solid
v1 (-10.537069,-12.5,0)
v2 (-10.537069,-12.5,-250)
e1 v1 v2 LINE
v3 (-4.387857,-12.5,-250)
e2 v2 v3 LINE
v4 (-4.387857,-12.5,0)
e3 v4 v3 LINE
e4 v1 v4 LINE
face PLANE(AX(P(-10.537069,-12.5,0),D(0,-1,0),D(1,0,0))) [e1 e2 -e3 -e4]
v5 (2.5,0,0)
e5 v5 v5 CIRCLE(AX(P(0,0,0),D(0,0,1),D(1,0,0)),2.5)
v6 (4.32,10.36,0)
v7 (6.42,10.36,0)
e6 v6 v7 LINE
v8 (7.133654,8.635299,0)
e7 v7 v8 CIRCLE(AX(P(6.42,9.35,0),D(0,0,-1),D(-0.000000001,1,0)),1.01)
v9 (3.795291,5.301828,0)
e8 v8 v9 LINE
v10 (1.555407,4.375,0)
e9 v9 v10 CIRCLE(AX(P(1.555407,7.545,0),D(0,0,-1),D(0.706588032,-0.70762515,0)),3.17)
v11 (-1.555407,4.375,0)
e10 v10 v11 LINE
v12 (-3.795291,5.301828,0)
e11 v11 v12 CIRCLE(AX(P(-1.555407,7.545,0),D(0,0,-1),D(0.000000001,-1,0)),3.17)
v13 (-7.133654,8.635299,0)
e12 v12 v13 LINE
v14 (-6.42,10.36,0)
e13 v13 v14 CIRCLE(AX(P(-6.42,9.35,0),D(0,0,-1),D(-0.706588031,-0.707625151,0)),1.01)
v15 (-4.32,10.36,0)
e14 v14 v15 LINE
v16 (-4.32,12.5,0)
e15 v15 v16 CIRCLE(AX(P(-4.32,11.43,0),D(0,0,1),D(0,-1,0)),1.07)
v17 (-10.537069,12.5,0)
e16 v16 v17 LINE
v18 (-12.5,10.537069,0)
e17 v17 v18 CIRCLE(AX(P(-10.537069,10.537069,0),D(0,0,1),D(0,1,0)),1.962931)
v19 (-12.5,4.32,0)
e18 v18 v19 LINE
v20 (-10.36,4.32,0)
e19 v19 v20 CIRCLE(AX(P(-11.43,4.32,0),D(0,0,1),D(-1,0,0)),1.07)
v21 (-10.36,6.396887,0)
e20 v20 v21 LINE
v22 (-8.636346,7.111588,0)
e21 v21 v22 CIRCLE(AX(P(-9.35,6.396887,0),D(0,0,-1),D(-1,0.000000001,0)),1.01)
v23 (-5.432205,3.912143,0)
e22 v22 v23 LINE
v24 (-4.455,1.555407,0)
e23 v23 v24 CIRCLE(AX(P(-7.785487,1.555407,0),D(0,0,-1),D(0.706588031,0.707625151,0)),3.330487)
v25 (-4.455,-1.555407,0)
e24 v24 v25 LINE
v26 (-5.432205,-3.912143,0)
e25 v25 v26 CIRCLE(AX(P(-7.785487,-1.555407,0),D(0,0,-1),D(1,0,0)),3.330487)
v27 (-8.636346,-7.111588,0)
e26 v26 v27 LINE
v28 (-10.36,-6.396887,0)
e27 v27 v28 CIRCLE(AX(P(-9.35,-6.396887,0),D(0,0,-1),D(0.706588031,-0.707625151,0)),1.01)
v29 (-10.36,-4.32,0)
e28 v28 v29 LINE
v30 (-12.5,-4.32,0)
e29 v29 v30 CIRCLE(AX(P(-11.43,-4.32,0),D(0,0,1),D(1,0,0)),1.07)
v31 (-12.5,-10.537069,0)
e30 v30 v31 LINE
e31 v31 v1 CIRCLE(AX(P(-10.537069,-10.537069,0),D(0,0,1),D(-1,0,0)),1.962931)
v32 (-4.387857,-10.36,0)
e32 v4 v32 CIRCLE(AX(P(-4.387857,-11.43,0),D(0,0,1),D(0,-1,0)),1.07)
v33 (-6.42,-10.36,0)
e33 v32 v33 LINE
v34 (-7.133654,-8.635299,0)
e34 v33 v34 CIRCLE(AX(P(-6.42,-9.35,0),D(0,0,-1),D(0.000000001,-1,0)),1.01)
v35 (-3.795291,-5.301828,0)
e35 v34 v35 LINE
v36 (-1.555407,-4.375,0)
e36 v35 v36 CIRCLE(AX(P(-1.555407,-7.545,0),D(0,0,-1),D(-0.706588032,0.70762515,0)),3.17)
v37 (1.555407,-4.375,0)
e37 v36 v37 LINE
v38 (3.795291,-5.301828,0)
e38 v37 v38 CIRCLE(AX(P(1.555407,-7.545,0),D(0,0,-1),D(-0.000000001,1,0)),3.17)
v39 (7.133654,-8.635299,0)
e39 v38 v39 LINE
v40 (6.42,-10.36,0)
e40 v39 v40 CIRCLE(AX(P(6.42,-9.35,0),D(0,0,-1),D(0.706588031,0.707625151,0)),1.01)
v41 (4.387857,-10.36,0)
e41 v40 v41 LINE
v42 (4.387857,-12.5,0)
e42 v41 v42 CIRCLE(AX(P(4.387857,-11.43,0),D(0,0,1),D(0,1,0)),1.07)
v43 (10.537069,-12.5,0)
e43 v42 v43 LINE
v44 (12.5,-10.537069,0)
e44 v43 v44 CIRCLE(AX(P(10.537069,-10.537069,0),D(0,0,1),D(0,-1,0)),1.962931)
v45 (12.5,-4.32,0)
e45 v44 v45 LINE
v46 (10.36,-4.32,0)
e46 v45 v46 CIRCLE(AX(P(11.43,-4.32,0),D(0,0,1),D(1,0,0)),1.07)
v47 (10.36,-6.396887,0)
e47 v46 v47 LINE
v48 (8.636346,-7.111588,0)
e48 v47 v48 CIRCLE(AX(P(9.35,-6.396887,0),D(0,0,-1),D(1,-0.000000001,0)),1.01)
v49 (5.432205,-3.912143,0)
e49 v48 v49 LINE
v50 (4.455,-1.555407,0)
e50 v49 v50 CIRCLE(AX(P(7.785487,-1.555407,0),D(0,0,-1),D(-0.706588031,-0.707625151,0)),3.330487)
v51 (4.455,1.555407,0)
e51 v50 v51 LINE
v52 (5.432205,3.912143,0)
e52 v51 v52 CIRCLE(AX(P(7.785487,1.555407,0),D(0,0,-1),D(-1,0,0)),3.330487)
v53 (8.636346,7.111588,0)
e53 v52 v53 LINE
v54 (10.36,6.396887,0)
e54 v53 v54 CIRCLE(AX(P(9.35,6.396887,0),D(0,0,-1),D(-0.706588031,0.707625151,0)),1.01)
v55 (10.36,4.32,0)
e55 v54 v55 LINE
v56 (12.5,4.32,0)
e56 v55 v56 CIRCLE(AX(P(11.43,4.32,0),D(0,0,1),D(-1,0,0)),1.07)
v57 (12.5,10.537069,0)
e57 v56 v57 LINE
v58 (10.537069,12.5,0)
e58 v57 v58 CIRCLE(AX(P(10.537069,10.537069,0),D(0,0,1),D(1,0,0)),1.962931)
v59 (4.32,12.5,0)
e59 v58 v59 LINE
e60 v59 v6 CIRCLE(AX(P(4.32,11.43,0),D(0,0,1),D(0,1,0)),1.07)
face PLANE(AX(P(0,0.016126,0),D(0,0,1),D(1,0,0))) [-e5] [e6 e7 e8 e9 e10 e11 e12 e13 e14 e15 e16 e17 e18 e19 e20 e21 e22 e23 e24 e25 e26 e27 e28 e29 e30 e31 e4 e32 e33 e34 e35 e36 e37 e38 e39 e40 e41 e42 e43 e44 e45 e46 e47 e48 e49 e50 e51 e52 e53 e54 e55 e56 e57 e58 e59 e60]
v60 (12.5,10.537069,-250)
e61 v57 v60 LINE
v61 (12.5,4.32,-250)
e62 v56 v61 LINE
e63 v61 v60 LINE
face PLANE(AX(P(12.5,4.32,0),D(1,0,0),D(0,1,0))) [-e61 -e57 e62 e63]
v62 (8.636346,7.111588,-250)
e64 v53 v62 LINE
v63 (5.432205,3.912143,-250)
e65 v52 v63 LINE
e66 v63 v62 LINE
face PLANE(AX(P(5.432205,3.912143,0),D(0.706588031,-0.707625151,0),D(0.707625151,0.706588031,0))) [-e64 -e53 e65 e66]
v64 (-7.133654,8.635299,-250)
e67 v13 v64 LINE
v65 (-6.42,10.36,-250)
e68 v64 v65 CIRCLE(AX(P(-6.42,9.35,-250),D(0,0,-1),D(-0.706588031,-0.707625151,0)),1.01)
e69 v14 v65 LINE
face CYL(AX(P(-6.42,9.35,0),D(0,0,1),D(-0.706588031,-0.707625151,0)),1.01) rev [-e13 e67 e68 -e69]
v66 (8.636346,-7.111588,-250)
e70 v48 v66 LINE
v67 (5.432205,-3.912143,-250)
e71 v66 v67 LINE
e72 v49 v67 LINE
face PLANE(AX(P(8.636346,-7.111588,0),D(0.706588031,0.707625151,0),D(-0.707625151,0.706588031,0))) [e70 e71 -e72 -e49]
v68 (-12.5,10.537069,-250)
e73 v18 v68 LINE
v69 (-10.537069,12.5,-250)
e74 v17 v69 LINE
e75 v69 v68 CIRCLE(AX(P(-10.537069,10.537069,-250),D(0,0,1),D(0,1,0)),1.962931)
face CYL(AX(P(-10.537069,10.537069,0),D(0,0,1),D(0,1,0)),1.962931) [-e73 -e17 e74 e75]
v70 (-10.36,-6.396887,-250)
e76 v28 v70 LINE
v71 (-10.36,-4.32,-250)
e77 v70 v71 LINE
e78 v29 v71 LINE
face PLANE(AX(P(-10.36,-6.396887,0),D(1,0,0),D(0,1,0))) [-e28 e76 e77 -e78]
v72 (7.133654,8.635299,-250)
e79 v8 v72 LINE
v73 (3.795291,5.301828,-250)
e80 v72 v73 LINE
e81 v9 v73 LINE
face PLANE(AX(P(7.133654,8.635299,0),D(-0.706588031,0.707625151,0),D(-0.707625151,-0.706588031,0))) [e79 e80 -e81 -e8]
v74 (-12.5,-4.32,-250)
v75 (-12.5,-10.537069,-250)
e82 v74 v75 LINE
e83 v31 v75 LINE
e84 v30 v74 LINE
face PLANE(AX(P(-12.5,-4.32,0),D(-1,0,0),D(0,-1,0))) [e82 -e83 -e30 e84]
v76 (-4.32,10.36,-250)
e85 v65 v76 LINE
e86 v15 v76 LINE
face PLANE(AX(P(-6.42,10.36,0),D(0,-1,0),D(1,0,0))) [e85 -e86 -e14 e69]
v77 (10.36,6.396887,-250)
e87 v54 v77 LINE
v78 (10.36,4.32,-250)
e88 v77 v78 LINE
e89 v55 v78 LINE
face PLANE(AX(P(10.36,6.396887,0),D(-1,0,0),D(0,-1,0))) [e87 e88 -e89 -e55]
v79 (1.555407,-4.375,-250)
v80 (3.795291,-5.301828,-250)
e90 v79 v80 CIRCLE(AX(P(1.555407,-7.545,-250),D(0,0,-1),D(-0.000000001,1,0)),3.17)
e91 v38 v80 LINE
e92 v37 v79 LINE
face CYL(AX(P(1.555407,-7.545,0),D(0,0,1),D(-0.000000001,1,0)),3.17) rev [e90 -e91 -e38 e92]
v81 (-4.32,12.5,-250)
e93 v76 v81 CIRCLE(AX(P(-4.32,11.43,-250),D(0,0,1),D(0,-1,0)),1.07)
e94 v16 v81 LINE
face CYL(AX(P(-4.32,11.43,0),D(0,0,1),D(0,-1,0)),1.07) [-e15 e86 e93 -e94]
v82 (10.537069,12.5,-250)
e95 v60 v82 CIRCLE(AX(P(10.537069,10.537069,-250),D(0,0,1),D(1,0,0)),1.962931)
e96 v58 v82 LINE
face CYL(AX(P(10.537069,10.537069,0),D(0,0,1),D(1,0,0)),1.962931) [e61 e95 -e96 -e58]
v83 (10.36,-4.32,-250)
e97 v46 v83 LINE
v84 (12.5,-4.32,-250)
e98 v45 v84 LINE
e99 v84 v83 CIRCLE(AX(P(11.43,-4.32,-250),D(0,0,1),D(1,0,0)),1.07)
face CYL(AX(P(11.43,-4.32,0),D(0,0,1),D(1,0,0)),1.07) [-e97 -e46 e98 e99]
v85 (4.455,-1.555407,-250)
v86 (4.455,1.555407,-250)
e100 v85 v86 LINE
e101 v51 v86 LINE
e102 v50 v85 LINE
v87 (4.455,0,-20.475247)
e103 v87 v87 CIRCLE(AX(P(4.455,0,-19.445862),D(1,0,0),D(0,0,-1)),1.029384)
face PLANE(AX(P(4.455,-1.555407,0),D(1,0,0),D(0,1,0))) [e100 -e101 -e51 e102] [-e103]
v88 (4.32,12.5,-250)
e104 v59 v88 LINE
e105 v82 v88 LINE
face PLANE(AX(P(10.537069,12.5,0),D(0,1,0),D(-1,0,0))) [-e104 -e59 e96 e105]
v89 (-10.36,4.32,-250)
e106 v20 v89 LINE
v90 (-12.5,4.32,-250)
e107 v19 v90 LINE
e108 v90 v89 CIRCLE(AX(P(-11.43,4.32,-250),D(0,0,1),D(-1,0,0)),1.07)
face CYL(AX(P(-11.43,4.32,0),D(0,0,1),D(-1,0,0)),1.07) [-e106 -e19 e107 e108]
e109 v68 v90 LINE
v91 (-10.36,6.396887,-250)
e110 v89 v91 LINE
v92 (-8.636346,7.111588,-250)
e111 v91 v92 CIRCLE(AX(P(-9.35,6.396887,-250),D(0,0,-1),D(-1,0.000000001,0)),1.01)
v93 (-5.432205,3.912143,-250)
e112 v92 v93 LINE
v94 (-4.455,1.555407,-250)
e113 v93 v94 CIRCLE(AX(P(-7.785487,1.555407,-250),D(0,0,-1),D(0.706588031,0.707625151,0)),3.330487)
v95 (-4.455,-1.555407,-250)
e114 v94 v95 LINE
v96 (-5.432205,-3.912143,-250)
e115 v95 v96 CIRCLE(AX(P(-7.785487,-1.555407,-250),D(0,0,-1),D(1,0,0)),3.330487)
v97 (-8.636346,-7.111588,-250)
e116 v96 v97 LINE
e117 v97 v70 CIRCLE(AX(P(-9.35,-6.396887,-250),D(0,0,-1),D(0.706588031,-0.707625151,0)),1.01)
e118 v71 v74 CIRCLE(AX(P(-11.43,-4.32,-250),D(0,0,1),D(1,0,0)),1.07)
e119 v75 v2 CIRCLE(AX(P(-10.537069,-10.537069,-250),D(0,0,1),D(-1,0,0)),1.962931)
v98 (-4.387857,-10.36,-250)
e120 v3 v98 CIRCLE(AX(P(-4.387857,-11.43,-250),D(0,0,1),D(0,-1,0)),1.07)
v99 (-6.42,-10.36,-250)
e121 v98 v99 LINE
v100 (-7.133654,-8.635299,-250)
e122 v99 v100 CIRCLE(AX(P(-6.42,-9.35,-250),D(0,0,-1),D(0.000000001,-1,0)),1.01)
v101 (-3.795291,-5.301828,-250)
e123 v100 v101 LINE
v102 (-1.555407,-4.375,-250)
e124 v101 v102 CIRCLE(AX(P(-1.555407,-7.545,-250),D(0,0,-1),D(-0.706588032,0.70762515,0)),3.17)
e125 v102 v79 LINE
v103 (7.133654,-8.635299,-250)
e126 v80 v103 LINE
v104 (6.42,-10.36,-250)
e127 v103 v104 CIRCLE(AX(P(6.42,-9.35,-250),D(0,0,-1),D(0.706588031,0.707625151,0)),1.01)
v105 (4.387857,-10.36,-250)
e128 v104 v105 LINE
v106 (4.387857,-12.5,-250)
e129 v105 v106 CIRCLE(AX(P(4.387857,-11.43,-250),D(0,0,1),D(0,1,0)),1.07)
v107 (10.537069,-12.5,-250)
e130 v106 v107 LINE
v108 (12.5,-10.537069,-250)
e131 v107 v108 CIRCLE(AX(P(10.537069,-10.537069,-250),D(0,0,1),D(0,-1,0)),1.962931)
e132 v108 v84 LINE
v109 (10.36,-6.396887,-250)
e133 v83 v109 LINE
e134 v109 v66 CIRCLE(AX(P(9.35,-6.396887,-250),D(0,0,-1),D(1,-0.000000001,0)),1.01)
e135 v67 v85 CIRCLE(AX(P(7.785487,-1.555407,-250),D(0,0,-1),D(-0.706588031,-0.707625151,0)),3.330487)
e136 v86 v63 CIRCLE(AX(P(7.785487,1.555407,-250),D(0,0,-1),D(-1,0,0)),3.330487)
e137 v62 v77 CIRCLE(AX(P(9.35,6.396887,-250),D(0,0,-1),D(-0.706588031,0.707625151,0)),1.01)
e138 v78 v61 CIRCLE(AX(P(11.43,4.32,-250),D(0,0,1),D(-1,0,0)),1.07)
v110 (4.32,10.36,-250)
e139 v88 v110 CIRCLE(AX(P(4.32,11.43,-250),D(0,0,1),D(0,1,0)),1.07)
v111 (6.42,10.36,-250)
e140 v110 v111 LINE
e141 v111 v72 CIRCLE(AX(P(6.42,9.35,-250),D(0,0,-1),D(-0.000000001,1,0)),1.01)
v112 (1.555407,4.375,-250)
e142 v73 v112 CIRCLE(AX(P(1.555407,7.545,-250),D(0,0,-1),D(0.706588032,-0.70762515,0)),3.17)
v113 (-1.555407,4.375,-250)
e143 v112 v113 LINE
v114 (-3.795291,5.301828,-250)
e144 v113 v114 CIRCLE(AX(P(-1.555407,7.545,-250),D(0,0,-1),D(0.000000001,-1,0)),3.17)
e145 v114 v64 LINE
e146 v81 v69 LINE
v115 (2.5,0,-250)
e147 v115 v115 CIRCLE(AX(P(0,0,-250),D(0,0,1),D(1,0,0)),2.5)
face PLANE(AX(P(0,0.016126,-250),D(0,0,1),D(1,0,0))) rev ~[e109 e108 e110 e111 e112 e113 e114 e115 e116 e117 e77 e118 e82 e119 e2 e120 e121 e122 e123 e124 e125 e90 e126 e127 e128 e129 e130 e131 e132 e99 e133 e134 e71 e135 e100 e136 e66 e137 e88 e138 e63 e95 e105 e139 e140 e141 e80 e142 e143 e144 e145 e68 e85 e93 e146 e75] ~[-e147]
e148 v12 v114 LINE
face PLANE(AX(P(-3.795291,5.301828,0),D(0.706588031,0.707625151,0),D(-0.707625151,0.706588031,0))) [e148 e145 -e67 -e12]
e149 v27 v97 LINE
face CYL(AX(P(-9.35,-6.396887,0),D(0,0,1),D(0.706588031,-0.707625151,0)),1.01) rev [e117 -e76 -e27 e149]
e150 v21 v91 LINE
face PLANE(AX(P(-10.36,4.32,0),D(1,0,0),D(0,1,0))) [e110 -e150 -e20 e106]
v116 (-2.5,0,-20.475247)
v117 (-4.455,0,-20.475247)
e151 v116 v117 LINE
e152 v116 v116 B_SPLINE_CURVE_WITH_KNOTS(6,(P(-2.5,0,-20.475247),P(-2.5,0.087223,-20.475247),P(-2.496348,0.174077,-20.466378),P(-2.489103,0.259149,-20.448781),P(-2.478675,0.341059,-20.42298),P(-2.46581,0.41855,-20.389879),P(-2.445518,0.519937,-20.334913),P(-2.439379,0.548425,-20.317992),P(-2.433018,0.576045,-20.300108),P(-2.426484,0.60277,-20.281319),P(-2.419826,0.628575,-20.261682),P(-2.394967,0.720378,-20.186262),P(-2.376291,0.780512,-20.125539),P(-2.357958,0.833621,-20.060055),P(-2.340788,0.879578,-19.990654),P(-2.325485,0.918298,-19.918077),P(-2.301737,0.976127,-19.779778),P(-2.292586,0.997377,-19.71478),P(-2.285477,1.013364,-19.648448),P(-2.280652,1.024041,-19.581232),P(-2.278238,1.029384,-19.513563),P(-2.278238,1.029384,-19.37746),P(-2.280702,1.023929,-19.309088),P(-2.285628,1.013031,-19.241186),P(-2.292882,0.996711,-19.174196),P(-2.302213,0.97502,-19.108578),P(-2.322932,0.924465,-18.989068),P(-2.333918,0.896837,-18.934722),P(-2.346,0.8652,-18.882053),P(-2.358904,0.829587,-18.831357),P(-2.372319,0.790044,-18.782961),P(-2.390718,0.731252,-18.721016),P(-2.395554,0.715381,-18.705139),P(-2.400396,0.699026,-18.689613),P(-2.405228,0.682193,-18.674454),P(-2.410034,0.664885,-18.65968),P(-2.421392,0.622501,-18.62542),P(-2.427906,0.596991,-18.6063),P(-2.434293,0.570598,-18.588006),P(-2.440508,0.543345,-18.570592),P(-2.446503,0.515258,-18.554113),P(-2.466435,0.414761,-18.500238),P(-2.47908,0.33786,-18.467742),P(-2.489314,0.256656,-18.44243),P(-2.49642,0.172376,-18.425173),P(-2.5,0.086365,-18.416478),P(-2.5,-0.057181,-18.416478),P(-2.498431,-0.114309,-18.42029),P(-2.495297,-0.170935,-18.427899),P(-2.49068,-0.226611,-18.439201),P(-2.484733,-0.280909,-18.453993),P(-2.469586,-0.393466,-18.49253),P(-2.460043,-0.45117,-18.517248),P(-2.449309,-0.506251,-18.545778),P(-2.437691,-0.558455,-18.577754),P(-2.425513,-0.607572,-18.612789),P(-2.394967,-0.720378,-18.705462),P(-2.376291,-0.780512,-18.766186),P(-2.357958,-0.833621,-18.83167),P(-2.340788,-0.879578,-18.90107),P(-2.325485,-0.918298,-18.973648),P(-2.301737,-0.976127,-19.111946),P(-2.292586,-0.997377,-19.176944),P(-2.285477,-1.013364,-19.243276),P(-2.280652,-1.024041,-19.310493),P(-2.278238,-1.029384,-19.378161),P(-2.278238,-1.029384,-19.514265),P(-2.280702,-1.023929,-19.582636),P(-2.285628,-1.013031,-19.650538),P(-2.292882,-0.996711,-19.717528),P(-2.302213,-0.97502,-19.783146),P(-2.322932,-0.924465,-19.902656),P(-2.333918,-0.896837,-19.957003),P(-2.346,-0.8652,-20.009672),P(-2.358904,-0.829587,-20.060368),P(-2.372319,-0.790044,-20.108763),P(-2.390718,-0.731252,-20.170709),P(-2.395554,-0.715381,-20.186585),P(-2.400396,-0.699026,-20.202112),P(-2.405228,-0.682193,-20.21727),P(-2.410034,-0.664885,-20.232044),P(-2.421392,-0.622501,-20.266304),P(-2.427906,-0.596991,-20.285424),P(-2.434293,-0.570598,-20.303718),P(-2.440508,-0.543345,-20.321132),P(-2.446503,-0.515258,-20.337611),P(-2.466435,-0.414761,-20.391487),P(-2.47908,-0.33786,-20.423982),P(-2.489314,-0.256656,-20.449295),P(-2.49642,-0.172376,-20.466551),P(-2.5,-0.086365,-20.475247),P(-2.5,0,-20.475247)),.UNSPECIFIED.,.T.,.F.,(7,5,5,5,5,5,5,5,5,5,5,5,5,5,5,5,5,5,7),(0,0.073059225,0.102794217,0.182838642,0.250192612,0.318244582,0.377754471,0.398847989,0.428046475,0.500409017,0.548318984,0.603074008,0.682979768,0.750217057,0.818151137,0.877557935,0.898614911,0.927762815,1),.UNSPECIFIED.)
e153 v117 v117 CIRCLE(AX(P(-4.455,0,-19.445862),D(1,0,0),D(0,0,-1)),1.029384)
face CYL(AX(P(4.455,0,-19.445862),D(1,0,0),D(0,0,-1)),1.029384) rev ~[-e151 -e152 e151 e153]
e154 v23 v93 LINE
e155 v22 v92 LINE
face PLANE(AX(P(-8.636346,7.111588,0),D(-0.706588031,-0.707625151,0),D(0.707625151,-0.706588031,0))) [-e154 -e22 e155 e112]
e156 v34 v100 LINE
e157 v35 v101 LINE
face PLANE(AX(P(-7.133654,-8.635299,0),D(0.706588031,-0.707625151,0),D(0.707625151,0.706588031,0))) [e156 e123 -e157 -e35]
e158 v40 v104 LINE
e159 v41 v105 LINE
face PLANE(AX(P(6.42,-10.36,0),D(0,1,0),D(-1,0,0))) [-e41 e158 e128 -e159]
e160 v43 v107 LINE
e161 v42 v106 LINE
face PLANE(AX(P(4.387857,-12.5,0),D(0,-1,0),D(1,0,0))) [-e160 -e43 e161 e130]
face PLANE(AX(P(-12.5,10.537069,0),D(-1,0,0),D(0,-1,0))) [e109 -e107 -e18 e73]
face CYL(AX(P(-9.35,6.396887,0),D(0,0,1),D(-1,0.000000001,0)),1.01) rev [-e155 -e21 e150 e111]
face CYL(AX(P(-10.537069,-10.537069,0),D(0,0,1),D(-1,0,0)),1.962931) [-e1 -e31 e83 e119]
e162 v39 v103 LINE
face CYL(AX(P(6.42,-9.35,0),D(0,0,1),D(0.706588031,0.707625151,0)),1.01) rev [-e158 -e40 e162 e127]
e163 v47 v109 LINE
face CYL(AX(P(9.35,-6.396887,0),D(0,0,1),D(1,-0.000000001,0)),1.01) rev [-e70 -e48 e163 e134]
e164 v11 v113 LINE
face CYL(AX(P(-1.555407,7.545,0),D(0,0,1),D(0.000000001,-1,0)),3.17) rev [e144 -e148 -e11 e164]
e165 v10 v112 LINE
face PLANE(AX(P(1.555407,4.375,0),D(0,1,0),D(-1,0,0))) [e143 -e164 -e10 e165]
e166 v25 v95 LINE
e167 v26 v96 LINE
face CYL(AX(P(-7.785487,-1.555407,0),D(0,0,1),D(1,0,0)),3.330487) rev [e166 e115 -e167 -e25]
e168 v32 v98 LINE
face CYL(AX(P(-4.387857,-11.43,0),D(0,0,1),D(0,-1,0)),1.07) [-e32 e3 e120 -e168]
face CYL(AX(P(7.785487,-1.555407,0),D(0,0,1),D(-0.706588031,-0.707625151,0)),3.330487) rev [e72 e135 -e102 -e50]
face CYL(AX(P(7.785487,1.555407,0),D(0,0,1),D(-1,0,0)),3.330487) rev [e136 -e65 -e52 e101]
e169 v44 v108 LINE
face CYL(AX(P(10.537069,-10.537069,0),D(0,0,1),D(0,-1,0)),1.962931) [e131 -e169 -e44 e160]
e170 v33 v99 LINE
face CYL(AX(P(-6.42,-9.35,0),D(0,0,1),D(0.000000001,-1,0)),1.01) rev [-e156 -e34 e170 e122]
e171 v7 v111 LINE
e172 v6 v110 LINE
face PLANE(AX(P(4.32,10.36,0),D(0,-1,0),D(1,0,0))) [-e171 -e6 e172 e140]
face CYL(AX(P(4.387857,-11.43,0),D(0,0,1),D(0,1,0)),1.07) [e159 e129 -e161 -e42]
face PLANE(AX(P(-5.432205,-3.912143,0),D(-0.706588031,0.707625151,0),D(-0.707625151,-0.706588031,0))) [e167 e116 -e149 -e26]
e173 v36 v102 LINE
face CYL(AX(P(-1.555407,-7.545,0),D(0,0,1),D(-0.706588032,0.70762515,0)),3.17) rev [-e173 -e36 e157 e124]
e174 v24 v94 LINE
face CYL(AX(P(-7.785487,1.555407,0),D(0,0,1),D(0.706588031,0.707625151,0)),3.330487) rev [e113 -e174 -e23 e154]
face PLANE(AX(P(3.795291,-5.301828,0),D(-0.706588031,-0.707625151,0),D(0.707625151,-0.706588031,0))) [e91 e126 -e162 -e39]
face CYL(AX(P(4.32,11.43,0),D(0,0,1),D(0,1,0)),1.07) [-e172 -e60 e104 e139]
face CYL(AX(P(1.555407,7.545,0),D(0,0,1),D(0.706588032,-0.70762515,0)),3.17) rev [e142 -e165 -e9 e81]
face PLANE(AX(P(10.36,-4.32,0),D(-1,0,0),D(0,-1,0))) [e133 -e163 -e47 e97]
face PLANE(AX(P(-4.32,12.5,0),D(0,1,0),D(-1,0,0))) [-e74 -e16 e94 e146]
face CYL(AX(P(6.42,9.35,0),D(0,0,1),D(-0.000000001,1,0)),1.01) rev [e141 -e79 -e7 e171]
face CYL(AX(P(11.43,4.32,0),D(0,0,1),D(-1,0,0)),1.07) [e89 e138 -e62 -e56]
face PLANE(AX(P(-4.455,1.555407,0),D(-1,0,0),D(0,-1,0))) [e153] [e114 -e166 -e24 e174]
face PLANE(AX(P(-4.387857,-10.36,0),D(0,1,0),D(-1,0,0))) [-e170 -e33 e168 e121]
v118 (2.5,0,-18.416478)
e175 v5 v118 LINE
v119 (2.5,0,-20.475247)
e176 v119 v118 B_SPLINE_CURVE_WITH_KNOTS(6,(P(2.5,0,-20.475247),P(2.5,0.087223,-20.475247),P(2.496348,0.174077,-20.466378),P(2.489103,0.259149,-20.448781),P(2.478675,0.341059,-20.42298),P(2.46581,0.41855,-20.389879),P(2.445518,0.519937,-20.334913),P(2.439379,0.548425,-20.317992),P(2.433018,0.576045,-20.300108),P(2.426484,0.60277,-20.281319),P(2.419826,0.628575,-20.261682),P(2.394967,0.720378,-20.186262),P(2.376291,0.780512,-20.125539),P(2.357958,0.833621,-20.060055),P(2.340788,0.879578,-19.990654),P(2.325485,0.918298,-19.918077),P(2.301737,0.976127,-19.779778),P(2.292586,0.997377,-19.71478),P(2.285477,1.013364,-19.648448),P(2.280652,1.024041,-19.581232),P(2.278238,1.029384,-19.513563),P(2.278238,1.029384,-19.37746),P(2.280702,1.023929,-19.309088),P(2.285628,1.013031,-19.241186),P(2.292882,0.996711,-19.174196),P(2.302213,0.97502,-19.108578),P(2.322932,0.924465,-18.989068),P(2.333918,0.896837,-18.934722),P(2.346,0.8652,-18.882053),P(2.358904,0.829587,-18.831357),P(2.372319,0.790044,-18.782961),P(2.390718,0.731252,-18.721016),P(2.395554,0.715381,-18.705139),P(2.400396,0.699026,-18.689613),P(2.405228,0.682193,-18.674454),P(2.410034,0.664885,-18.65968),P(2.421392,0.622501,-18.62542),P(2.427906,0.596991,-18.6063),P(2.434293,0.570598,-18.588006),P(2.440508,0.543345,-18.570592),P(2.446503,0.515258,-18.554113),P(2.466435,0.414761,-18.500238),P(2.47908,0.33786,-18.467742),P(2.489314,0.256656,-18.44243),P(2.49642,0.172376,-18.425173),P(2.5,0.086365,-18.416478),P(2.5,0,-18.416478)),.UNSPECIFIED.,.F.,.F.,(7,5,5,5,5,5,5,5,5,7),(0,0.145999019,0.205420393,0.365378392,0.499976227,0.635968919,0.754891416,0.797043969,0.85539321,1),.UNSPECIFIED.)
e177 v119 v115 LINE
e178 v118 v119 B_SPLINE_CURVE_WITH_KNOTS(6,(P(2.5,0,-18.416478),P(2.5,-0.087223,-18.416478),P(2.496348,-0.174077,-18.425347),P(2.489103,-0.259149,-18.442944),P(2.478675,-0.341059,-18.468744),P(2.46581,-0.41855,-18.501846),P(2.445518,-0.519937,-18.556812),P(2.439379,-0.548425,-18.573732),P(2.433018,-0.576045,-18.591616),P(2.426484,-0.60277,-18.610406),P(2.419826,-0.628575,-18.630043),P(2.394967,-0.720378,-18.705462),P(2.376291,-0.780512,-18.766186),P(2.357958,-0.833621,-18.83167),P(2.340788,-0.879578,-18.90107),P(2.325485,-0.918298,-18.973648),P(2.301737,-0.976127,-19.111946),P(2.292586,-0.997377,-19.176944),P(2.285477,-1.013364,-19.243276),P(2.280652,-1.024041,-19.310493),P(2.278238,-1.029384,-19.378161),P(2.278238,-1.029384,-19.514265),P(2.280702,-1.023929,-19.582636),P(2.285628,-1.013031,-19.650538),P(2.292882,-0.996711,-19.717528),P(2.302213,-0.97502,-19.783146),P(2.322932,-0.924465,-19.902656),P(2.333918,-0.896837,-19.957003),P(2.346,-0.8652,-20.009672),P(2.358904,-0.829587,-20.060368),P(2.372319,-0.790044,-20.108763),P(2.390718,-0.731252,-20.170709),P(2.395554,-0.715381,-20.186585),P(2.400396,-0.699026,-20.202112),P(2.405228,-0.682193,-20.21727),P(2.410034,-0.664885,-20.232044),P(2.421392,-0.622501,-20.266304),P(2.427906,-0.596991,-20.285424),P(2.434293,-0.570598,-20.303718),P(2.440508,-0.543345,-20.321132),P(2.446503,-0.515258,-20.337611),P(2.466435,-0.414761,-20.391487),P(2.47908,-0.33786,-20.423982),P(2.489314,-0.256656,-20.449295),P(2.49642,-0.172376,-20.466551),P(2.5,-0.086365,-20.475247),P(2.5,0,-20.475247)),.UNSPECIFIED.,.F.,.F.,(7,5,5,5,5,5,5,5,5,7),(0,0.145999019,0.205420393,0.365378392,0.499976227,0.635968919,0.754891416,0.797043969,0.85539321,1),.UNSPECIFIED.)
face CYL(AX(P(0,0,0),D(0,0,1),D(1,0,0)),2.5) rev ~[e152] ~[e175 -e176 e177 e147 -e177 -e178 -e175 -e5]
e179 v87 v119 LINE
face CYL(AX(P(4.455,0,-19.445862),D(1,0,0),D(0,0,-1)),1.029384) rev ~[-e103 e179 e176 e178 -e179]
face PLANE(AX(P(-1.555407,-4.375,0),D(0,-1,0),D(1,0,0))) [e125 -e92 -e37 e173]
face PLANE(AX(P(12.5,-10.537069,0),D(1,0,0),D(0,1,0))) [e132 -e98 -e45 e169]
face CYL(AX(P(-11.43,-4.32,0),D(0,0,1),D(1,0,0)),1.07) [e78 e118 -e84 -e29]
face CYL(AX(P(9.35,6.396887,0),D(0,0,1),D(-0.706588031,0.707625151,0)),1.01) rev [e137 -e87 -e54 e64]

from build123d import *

# Parameters (mm, degrees)
SKETCH1_R          = 2.5
EXTRUDE1_DEPTH     = 250
SKETCH3_R          = 1.029384239
CUT_EXTRUDE1_DEPTH = 251.885874503


with BuildPart() as part:
    # Sketch1 → Extrude1 (new body)
    with BuildSketch(Plane.XY):
        with BuildLine():
            Line((-8.636346088, 7.111588351), (-5.432204773, 3.912143135))
            ThreePointArc((-5.432204773, 3.912143135), (-4.708985779, 2.831057106), (-4.455, 1.555406707))
            Line((-4.455, 1.555406707), (-4.455, -1.555406707))
            ThreePointArc((-4.455, -1.555406707), (-4.708985779, -2.831057106), (-5.432204773, -3.912143135))
            Line((-5.432204773, -3.912143135), (-8.636346088, -7.111588351))
            ThreePointArc((-8.636346088, -7.111588351), (-9.736852394, -7.329863489), (-10.36, -6.396886949))
            Line((-10.36, -6.396886949), (-10.36, -4.32))
            ThreePointArc((-10.36, -4.32), (-11.43, -3.25), (-12.5, -4.32))
            Line((-12.5, -4.32), (-12.5, -8.651801989))
            Line((-12.5, -8.651801989), (-12.5, -10.537068835))
            ThreePointArc((-12.5, -10.537068835), (-11.925070773, -11.925070773), (-10.537068835, -12.5))
            Line((-10.537068835, -12.5), (-8.441567612, -12.5))
            Line((-8.441567612, -12.5), (-4.387856959, -12.5))
            ThreePointArc((-4.387856959, -12.5), (-3.317856959, -11.43), (-4.387856959, -10.36))
            Line((-4.387856959, -10.36), (-6.42, -10.36))
            ThreePointArc((-6.42, -10.36), (-7.35325999, -9.736168088), (-7.133653912, -8.635298598))
            Line((-7.133653912, -8.635298598), (-3.795290766, -5.301828272))
            ThreePointArc((-3.795290766, -5.301828272), (-2.76743922, -4.61585726), (-1.555406707, -4.375))
            Line((-1.555406707, -4.375), (1.555406707, -4.375))
            ThreePointArc((1.555406707, -4.375), (2.76743922, -4.61585726), (3.795290766, -5.301828272))
            Line((3.795290766, -5.301828272), (7.133653912, -8.635298598))
            ThreePointArc((7.133653912, -8.635298598), (7.35325999, -9.736168088), (6.42, -10.36))
            Line((6.42, -10.36), (4.387856959, -10.36))
            ThreePointArc((4.387856959, -10.36), (3.317856959, -11.43), (4.387856959, -12.5))
            Line((4.387856959, -12.5), (8.441567612, -12.5))
            Line((8.441567612, -12.5), (10.537068835, -12.5))
            ThreePointArc((10.537068835, -12.5), (11.925070773, -11.925070773), (12.5, -10.537068835))
            Line((12.5, -10.537068835), (12.5, -8.651801989))
            Line((12.5, -8.651801989), (12.5, -4.32))
            ThreePointArc((12.5, -4.32), (11.43, -3.25), (10.36, -4.32))
            Line((10.36, -4.32), (10.36, -6.396886949))
            ThreePointArc((10.36, -6.396886949), (9.736852394, -7.329863489), (8.636346088, -7.111588351))
            Line((8.636346088, -7.111588351), (5.432204773, -3.912143135))
            ThreePointArc((5.432204773, -3.912143135), (4.708985779, -2.831057106), (4.455, -1.555406707))
            Line((4.455, -1.555406707), (4.455, 1.555406707))
            ThreePointArc((4.455, 1.555406707), (4.708985779, 2.831057106), (5.432204773, 3.912143135))
            Line((5.432204773, 3.912143135), (8.636346088, 7.111588351))
            ThreePointArc((8.636346088, 7.111588351), (9.736852394, 7.329863489), (10.36, 6.396886949))
            Line((10.36, 6.396886949), (10.36, 4.32))
            ThreePointArc((10.36, 4.32), (11.43, 3.25), (12.5, 4.32))
            Line((12.5, 4.32), (12.5, 7.99129648))
            Line((12.5, 7.99129648), (12.5, 10.537068835))
            ThreePointArc((12.5, 10.537068835), (11.925070773, 11.925070773), (10.537068835, 12.5))
            Line((10.537068835, 12.5), (4.32, 12.5))
            ThreePointArc((4.32, 12.5), (3.25, 11.43), (4.32, 10.36))
            Line((4.32, 10.36), (6.42, 10.36))
            ThreePointArc((6.42, 10.36), (7.35325999, 9.736168088), (7.133653912, 8.635298598))
            Line((7.133653912, 8.635298598), (3.795290766, 5.301828272))
            ThreePointArc((3.795290766, 5.301828272), (2.76743922, 4.61585726), (1.555406707, 4.375))
            Line((1.555406707, 4.375), (-1.555406707, 4.375))
            ThreePointArc((-1.555406707, 4.375), (-2.76743922, 4.61585726), (-3.795290766, 5.301828272))
            Line((-3.795290766, 5.301828272), (-7.133653912, 8.635298598))
            ThreePointArc((-7.133653912, 8.635298598), (-7.35325999, 9.736168088), (-6.42, 10.36))
            Line((-6.42, 10.36), (-4.32, 10.36))
            ThreePointArc((-4.32, 10.36), (-3.25, 11.43), (-4.32, 12.5))
            Line((-4.32, 12.5), (-10.537068835, 12.5))
            ThreePointArc((-10.537068835, 12.5), (-11.925070773, 11.925070773), (-12.5, 10.537068835))
            Line((-12.5, 10.537068835), (-12.5, 7.99129648))
            Line((-12.5, 7.99129648), (-12.5, 4.32))
            ThreePointArc((-12.5, 4.32), (-11.43, 3.25), (-10.36, 4.32))
            Line((-10.36, 4.32), (-10.36, 6.396886949))
            ThreePointArc((-10.36, 6.396886949), (-9.736852394, 7.329863489), (-8.636346088, 7.111588351))
        make_face()
        Circle(SKETCH1_R, mode=Mode.SUBTRACT)
    extrude(amount=-EXTRUDE1_DEPTH)

    # Sketch3 → Cut-Extrude1 (cut, through all)
    with BuildSketch(Plane(origin=(4.455, 0, 0), x_dir=(0, 0, -1), z_dir=(1, 0, 0))):
        with Locations((19.445862267, 0)):
            Circle(SKETCH3_R)
    extrude(amount=-CUT_EXTRUDE1_DEPTH, mode=Mode.SUBTRACT)


solid = part.part
